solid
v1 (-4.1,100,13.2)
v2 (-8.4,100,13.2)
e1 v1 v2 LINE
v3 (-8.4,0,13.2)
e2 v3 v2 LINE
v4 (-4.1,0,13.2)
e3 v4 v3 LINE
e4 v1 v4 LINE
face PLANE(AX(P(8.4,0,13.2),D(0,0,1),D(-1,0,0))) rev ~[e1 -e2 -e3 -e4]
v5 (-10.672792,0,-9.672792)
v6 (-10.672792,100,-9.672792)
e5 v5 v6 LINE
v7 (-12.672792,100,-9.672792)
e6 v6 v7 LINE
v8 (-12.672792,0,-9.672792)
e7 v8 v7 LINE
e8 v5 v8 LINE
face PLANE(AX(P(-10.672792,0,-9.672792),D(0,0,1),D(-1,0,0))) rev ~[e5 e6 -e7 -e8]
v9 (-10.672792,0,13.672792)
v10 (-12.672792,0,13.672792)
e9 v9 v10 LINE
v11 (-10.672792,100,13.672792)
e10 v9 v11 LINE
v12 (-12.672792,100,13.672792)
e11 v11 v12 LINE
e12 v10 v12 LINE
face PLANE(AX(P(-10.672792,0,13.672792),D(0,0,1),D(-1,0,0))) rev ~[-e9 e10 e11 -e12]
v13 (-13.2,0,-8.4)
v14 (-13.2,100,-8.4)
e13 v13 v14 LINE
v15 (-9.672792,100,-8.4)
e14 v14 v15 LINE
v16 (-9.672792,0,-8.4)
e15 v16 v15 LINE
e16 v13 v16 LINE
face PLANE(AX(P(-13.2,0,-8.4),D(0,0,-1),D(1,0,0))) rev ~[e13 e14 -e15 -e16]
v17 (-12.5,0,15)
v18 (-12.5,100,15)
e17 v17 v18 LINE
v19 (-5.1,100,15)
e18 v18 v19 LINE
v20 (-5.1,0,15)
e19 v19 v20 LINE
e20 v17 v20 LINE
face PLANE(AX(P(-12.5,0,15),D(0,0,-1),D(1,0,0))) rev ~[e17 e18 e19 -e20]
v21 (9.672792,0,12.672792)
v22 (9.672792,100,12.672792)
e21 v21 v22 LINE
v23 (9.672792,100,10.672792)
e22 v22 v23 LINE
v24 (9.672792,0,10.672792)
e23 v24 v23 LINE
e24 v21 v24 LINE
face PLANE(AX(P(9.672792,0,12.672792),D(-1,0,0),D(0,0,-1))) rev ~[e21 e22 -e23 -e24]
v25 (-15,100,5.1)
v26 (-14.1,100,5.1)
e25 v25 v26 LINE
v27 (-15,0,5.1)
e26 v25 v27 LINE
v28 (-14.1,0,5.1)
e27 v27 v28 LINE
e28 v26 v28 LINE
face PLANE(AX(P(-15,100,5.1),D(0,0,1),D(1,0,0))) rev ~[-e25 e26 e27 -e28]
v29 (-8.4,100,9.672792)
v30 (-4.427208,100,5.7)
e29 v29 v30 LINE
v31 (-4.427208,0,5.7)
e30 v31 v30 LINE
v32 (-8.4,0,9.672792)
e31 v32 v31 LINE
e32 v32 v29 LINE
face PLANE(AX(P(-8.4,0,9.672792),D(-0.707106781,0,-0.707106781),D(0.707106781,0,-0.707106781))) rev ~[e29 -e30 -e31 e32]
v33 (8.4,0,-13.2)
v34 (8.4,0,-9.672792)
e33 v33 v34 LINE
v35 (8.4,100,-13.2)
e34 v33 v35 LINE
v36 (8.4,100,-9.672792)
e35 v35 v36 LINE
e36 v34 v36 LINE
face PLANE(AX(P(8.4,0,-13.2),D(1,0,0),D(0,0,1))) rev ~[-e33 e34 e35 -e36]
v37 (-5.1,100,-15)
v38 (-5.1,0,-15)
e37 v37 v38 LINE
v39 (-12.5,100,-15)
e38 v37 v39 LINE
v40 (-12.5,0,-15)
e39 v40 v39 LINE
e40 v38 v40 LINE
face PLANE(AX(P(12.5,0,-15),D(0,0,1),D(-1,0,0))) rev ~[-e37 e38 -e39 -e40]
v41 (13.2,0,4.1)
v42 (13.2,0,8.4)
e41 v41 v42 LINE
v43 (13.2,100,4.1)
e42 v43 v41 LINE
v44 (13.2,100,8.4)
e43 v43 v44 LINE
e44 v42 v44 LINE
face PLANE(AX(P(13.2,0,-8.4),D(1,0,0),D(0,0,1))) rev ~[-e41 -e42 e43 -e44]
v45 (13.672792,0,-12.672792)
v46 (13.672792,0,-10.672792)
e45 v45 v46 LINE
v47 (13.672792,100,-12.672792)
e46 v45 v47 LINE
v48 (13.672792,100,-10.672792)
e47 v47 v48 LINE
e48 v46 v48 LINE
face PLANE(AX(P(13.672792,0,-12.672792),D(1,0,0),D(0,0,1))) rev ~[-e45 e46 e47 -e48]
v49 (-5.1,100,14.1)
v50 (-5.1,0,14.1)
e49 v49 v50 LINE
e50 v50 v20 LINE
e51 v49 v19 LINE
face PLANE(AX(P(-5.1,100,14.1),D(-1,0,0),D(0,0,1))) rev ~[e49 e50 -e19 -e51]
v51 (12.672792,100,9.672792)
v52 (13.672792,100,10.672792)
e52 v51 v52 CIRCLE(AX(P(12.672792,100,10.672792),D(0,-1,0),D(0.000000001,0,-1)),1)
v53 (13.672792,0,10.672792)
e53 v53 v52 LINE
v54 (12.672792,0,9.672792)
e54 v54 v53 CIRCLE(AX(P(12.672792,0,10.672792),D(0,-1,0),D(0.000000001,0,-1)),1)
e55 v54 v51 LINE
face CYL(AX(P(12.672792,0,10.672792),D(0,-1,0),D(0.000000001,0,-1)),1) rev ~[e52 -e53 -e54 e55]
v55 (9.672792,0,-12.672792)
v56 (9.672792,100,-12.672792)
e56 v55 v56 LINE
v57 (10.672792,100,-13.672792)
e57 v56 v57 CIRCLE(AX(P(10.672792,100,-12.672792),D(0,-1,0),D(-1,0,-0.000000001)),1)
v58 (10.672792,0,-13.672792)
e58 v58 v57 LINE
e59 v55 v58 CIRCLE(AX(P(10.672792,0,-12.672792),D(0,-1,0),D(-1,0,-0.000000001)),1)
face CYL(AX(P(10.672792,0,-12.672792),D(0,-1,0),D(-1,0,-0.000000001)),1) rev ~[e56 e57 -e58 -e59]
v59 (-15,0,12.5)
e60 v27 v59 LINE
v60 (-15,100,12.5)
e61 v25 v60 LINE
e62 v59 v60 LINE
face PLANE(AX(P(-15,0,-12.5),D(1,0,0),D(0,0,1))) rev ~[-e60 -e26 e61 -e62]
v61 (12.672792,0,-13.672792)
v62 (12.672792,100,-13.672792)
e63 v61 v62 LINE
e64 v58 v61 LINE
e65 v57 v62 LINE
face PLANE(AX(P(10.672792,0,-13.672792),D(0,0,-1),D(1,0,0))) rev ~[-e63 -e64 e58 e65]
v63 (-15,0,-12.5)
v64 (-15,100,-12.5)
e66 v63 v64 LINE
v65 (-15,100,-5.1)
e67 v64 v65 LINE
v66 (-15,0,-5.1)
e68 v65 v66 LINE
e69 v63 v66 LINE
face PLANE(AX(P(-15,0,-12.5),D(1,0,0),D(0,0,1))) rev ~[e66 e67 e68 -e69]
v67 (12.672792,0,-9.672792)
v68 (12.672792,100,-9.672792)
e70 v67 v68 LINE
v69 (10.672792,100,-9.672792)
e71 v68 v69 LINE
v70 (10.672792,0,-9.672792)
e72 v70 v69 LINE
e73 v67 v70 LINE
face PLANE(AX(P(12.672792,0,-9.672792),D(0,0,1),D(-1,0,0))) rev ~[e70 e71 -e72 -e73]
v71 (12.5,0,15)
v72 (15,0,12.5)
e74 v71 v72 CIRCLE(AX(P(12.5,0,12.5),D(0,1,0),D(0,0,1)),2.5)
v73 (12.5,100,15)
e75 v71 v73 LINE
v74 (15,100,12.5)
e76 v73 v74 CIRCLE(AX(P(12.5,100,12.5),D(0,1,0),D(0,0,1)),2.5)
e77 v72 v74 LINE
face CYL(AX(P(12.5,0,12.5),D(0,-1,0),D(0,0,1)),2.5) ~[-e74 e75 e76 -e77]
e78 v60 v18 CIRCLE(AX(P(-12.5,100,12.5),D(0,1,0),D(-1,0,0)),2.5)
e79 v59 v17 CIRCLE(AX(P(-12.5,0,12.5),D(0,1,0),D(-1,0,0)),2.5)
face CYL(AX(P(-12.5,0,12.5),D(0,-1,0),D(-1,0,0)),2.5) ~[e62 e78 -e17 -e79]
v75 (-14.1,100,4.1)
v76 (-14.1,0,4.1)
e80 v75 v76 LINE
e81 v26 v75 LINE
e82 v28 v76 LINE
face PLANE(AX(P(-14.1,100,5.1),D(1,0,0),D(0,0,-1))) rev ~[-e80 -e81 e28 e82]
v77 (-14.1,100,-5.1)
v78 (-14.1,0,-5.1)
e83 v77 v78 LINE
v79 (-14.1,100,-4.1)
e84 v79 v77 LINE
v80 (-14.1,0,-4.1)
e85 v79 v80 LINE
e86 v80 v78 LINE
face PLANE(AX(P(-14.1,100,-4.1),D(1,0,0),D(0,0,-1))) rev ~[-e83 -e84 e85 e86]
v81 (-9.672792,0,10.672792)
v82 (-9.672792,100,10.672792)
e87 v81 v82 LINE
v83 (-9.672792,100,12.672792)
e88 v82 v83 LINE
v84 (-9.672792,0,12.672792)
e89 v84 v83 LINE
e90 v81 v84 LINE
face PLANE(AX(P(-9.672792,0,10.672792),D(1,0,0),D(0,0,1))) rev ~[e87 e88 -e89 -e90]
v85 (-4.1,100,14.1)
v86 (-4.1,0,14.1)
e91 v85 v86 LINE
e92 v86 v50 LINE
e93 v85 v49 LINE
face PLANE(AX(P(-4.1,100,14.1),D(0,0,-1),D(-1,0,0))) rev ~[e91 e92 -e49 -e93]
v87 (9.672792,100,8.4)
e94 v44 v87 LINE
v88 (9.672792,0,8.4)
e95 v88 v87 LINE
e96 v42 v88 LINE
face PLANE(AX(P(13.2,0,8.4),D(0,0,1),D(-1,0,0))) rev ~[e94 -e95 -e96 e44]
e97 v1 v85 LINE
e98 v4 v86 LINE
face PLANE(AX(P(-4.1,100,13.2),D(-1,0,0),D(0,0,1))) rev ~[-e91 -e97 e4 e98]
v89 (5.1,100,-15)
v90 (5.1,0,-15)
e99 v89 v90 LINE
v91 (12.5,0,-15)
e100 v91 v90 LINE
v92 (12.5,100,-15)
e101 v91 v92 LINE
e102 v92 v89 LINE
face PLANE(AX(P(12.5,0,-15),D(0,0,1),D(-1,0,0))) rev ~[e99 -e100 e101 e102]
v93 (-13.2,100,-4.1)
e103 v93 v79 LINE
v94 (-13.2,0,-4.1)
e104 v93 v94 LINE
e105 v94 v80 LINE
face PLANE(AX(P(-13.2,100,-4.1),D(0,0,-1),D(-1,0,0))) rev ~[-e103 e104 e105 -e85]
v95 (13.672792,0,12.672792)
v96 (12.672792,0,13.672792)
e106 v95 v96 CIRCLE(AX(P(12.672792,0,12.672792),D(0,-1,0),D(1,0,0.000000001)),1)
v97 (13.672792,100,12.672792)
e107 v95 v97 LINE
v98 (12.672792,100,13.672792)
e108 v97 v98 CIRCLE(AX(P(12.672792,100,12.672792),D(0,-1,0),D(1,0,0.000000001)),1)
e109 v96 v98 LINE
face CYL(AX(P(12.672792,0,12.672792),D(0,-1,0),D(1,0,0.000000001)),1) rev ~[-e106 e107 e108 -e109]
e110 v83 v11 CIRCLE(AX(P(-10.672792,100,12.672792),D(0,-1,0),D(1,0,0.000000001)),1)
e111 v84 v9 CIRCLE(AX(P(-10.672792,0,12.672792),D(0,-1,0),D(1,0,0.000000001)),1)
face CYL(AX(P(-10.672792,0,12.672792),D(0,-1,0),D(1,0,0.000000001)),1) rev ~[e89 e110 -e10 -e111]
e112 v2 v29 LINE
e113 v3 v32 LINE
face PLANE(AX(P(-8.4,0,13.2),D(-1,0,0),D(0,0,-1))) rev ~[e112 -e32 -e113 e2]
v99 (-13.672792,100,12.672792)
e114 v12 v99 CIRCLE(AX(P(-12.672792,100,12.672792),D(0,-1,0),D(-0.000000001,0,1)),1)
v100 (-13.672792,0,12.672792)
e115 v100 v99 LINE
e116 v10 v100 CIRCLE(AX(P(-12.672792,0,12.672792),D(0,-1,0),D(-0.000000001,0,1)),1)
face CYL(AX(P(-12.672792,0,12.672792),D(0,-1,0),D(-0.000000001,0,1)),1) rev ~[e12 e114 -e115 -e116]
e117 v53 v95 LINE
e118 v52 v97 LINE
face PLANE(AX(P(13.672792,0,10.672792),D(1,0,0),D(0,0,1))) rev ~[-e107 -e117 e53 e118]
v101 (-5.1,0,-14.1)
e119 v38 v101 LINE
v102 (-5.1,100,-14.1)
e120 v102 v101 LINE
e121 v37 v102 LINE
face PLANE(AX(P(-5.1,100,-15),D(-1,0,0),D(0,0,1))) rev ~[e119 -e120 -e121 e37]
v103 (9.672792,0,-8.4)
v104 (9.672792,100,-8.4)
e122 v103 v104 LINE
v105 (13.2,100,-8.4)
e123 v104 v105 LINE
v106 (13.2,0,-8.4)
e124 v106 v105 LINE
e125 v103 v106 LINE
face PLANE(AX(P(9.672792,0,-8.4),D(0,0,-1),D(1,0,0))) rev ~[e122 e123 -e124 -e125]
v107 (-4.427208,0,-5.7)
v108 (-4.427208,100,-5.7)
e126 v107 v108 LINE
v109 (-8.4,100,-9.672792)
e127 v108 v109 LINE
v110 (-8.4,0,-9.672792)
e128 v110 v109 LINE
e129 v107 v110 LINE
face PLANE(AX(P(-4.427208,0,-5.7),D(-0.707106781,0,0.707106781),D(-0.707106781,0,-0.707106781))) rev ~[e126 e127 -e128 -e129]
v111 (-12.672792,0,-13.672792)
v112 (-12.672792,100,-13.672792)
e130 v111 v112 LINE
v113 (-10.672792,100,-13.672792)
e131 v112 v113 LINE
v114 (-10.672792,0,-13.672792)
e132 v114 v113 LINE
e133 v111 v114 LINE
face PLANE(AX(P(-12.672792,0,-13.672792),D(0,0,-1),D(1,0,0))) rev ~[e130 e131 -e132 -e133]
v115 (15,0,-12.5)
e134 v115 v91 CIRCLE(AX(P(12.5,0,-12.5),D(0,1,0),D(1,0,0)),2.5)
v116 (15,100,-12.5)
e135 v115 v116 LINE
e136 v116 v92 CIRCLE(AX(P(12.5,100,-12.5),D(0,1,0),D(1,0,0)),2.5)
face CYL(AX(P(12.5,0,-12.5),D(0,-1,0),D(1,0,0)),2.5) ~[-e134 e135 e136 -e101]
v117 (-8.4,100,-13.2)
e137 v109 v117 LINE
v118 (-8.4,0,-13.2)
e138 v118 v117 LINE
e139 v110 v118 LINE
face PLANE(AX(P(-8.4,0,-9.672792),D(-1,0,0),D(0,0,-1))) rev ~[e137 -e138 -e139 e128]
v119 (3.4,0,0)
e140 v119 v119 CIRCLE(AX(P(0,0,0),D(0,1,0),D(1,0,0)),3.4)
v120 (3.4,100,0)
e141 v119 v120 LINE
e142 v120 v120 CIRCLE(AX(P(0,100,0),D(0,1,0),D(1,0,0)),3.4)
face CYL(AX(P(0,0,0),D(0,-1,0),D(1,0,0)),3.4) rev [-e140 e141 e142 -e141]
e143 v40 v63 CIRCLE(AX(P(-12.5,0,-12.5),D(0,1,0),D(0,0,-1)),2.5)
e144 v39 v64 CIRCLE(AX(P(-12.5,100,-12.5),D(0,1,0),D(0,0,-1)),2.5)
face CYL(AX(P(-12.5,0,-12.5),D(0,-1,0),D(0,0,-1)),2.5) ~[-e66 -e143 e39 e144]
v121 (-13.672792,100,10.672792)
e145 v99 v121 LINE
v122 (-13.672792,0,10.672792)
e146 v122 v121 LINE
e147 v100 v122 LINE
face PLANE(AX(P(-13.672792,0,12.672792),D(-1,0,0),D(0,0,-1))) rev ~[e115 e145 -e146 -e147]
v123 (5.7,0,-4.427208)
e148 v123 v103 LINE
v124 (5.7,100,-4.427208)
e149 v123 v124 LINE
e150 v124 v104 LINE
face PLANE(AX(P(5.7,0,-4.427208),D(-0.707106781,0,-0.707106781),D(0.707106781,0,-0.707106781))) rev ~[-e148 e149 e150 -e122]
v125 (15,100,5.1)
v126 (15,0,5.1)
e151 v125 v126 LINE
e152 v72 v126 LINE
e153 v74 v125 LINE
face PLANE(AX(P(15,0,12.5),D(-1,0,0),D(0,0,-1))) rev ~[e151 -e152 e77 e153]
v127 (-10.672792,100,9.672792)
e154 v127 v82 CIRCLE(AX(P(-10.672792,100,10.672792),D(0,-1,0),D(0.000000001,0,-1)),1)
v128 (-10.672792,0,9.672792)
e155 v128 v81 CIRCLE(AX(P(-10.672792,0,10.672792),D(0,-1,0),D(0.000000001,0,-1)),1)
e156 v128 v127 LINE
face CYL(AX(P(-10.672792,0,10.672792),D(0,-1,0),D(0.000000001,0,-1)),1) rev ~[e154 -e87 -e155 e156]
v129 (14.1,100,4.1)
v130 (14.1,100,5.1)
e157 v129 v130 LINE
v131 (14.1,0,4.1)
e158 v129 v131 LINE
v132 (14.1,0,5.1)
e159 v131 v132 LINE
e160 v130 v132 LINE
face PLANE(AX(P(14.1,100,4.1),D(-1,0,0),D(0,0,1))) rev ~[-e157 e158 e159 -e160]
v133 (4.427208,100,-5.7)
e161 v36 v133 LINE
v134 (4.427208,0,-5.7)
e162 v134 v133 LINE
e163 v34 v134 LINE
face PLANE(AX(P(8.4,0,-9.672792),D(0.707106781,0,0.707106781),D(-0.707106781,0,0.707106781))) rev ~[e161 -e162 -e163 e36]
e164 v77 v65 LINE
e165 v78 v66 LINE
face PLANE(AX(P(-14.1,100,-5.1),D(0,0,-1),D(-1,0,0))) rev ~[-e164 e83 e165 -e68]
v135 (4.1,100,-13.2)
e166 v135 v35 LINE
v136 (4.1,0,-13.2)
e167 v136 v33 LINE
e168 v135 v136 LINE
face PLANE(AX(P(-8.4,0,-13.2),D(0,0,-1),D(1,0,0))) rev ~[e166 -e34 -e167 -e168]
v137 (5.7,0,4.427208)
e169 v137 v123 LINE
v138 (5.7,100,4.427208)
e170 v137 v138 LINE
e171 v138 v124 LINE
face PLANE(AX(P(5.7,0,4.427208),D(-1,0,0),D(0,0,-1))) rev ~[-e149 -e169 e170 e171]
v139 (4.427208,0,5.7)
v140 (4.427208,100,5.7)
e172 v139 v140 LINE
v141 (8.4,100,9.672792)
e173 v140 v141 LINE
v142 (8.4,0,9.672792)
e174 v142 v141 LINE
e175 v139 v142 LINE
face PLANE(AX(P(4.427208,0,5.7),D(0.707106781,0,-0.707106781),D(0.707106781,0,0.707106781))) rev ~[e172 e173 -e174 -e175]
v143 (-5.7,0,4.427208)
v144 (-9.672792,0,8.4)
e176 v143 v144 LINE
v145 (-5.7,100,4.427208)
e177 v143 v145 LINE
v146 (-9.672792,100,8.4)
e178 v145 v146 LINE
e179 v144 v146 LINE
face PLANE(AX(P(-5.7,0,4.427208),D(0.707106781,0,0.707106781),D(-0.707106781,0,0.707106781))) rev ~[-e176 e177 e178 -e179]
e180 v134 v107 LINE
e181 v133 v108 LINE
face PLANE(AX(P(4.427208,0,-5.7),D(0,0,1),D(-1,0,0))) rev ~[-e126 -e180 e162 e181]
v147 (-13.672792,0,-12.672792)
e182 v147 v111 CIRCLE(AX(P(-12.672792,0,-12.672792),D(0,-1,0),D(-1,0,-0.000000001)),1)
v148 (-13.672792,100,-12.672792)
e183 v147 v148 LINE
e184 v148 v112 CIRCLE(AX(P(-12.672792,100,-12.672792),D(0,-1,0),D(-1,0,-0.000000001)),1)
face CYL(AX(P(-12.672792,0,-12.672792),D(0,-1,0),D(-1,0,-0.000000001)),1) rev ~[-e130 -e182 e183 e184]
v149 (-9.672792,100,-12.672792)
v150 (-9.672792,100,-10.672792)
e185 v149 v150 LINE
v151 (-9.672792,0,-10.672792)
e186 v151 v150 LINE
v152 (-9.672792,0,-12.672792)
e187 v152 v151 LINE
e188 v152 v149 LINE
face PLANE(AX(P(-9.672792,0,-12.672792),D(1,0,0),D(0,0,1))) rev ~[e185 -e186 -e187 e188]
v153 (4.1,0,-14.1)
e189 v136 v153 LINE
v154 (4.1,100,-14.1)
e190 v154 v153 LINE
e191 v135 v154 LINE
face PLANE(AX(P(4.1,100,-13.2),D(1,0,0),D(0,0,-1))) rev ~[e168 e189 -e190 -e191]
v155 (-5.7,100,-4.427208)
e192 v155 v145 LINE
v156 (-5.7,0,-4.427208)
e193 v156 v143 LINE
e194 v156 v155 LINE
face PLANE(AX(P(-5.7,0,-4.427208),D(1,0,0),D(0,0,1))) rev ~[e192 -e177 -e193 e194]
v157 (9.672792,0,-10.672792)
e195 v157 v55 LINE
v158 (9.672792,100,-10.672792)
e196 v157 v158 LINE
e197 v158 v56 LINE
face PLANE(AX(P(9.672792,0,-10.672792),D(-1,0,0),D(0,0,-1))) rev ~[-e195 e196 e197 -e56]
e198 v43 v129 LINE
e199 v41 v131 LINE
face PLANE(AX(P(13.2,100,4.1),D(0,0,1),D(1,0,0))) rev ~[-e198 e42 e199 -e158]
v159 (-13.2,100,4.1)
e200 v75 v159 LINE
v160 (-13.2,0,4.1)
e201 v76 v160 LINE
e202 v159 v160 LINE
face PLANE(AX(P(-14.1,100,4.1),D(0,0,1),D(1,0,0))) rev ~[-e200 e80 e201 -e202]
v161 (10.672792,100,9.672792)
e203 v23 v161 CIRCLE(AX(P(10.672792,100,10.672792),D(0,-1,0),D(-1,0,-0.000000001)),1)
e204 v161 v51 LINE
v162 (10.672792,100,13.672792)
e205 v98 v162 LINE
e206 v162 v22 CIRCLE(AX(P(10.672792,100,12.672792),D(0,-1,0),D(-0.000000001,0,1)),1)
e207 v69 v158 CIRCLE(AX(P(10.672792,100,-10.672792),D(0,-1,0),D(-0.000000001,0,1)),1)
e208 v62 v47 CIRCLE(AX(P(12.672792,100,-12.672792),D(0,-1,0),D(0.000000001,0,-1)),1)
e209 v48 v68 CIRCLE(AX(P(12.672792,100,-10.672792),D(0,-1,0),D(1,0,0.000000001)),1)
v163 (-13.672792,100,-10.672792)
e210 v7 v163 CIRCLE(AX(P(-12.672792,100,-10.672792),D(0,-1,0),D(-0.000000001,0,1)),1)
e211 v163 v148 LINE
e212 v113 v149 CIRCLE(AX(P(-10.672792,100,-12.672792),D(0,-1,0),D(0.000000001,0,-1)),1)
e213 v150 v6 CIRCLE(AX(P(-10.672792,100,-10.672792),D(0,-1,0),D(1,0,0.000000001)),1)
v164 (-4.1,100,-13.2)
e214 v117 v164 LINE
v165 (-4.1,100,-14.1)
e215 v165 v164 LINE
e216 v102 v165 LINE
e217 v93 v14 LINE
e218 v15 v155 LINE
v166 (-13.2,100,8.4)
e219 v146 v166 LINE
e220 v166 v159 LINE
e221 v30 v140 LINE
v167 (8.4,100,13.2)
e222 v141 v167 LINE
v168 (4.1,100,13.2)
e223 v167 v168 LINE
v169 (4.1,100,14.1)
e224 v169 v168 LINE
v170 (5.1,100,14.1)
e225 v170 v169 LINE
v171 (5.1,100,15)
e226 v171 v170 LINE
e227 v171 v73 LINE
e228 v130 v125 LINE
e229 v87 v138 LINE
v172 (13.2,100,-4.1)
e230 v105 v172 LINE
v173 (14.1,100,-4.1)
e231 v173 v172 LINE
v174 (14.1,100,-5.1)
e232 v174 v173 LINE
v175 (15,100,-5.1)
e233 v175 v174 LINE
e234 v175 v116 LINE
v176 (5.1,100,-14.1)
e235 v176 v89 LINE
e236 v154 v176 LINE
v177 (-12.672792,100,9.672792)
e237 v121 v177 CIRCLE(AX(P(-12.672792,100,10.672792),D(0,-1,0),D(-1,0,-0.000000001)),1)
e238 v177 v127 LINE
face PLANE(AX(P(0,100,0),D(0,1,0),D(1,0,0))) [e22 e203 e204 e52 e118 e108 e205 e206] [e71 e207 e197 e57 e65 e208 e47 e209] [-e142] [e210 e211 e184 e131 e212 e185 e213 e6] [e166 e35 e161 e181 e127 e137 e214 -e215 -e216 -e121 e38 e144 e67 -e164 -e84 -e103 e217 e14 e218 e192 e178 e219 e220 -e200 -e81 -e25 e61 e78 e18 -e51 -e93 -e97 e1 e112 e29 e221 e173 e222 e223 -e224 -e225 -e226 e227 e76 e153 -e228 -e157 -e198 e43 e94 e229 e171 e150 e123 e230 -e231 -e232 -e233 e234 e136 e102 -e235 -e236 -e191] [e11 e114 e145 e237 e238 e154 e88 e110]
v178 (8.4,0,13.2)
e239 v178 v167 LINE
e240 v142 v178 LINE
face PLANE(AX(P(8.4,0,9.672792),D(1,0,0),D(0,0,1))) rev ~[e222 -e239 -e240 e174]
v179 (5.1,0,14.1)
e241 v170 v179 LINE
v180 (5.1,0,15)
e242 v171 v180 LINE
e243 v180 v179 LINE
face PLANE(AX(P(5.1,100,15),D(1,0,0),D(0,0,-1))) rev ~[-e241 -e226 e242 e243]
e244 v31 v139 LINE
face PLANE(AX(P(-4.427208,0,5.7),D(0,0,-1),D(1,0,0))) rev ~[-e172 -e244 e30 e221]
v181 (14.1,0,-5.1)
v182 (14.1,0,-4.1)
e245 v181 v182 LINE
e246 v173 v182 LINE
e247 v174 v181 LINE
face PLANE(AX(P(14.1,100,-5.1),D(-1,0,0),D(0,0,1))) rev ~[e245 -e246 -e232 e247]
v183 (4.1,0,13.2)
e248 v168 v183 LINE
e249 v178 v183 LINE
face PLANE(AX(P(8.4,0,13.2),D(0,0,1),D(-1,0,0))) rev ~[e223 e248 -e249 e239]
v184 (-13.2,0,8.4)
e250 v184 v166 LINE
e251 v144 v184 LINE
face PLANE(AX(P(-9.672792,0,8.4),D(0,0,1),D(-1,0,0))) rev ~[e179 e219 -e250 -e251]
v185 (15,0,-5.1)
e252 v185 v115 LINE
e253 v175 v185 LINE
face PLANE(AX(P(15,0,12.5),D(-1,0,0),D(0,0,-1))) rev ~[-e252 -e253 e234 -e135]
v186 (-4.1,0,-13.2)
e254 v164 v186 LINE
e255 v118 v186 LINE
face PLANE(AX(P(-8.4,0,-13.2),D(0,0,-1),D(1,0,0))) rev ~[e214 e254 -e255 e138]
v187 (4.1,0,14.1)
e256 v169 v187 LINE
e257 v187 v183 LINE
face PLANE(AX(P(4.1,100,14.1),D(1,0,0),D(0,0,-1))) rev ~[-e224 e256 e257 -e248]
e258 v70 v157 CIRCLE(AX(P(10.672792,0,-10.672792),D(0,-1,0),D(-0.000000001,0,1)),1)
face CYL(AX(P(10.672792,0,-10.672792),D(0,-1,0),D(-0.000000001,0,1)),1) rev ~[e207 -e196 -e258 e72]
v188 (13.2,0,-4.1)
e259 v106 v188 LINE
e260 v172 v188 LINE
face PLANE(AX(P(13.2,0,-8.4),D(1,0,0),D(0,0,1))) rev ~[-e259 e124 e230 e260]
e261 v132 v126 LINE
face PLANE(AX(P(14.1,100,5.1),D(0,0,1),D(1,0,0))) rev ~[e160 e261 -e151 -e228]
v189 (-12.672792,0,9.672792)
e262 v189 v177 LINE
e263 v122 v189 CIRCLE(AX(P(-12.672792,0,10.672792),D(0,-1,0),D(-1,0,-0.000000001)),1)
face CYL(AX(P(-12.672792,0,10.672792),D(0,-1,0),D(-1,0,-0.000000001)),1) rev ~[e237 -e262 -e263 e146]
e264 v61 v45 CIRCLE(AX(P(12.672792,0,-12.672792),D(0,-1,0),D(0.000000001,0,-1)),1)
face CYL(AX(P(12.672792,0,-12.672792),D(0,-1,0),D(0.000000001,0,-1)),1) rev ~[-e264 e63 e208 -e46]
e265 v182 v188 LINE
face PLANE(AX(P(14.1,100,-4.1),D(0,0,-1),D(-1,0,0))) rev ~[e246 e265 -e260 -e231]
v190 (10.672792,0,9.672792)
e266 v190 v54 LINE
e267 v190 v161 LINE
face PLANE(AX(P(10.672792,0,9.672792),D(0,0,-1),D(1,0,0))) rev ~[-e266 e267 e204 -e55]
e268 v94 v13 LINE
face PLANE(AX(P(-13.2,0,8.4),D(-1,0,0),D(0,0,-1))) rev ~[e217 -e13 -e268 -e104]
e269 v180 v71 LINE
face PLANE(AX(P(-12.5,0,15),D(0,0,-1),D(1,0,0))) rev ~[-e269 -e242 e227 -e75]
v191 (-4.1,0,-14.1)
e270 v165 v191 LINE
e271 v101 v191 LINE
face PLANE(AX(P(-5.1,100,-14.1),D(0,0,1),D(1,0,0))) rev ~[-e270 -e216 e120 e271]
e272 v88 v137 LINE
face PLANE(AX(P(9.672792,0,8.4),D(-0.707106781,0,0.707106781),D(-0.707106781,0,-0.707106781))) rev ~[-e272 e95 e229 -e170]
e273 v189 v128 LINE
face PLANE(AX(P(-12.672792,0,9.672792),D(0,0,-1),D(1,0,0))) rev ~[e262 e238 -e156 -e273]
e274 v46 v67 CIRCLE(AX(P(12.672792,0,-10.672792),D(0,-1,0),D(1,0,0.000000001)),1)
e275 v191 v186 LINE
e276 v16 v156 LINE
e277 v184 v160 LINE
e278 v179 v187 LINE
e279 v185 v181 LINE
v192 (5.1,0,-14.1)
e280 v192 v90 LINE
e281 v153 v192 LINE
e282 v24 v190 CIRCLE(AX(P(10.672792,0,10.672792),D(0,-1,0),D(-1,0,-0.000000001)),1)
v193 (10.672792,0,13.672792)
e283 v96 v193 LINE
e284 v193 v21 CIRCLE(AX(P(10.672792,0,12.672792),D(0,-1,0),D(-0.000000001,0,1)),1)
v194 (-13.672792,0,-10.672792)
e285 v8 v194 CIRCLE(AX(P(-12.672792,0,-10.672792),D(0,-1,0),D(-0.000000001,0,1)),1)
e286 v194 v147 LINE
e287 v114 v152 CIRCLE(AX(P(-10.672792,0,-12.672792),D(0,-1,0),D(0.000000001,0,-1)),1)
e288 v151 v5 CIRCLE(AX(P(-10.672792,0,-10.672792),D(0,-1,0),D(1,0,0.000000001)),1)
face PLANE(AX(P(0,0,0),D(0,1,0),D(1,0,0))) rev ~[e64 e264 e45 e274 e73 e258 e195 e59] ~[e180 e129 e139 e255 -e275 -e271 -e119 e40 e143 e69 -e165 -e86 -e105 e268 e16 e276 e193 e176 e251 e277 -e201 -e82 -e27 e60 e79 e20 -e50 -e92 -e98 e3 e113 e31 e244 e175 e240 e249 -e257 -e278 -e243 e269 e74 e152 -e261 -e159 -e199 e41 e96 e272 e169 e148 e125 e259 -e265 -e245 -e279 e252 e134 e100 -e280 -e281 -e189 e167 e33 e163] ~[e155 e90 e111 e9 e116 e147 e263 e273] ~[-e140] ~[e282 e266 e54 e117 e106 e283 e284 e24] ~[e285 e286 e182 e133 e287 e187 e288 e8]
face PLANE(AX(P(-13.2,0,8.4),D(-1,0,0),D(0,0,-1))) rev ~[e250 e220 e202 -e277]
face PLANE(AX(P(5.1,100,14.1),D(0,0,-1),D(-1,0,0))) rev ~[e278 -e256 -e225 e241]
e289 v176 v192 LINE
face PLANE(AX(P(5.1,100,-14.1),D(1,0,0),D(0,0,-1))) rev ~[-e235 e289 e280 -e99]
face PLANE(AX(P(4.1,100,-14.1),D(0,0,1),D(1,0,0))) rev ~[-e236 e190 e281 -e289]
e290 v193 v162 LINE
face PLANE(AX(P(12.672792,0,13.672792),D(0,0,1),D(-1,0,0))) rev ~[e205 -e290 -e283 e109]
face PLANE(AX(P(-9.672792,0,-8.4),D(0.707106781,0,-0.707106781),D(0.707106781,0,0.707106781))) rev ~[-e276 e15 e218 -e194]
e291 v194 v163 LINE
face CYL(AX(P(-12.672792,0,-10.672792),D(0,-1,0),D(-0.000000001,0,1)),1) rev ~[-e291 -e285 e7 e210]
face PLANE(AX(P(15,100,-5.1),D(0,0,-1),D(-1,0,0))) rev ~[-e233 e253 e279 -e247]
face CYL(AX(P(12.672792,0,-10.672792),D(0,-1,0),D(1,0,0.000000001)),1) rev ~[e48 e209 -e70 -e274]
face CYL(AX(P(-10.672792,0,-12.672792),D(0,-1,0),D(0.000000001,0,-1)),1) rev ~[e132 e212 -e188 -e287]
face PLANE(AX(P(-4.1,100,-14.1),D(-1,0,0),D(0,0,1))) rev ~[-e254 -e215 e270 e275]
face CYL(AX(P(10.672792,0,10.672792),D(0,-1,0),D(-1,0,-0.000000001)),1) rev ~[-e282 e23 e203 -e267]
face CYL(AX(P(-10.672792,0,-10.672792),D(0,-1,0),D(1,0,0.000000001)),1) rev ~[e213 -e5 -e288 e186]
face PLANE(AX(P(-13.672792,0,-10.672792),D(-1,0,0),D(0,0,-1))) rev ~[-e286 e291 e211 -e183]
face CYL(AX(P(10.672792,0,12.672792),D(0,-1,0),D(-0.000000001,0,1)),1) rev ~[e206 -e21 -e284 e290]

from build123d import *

# Parameters (mm, degrees)
SKETCH1_R           = 3.4
BOSS_EXTRUDE1_DEPTH = 100
CUT_EXTRUDE1_DEPTH  = 103.225241501
CIRPATTERN1_COUNT   = 4


with BuildPart() as part:
    # Sketch1 → Boss-Extrude1 (new body)
    with BuildSketch(Plane(origin=(0, 0, 0), x_dir=(1, 0, 0), z_dir=(0, 1, 0))):
        with BuildLine():
            ThreePointArc((-15, -12.5), (-14.267766953, -14.267766953), (-12.5, -15))
            Line((-12.5, -15), (12.5, -15))
            ThreePointArc((12.5, -15), (14.267766953, -14.267766953), (15, -12.5))
            Line((15, -12.5), (15, 12.5))
            ThreePointArc((15, 12.5), (14.267766953, 14.267766953), (12.5, 15))
            Line((12.5, 15), (-12.5, 15))
            ThreePointArc((-12.5, 15), (-14.267766953, 14.267766953), (-15, 12.5))
            Line((-15, 12.5), (-15, -12.5))
        make_face()
        with BuildLine():
            Line((-12.672792206, -9.672792206), (-10.672792206, -9.672792206))
            ThreePointArc((-10.672792206, -9.672792206), (-9.965685425, -9.965685425), (-9.672792206, -10.672792206))
            Line((-9.672792206, -10.672792206), (-9.672792206, -12.672792206))
            ThreePointArc((-9.672792206, -12.672792206), (-9.965685425, -13.379898987), (-10.672792206, -13.672792206))
            Line((-10.672792206, -13.672792206), (-12.672792206, -13.672792206))
            ThreePointArc((-12.672792206, -13.672792206), (-13.379898987, -13.379898987), (-13.672792206, -12.672792206))
            Line((-13.672792206, -12.672792206), (-13.672792206, -10.672792206))
            ThreePointArc((-13.672792206, -10.672792206), (-13.379898987, -9.965685425), (-12.672792206, -9.672792206))
        make_face(mode=Mode.SUBTRACT)
        Polygon((-8.4, -9.672792206), (-4.427207794, -5.7), (4.427207794, -5.7), (8.4, -9.672792206), (8.4, -13.2), (-8.4, -13.2), align=None, mode=Mode.SUBTRACT)
        with BuildLine():
            Line((9.672792206, -12.672792206), (9.672792206, -10.672792206))
            ThreePointArc((9.672792206, -10.672792206), (9.965685425, -9.965685425), (10.672792206, -9.672792206))
            Line((10.672792206, -9.672792206), (12.672792206, -9.672792206))
            ThreePointArc((12.672792206, -9.672792206), (13.379898987, -9.965685425), (13.672792206, -10.672792206))
            Line((13.672792206, -10.672792206), (13.672792206, -12.672792206))
            ThreePointArc((13.672792206, -12.672792206), (13.379898987, -13.379898987), (12.672792206, -13.672792206))
            Line((12.672792206, -13.672792206), (10.672792206, -13.672792206))
            ThreePointArc((10.672792206, -13.672792206), (9.965685425, -13.379898987), (9.672792206, -12.672792206))
        make_face(mode=Mode.SUBTRACT)
        Polygon((-5.7, 4.427207794), (-5.7, -4.427207794), (-9.672792206, -8.4), (-13.2, -8.4), (-13.2, 8.4), (-9.672792206, 8.4), align=None, mode=Mode.SUBTRACT)
        with BuildLine():
            Line((-10.672792206, 9.672792206), (-12.672792206, 9.672792206))
            ThreePointArc((-12.672792206, 9.672792206), (-13.379898987, 9.965685425), (-13.672792206, 10.672792206))
            Line((-13.672792206, 10.672792206), (-13.672792206, 12.672792206))
            ThreePointArc((-13.672792206, 12.672792206), (-13.379898987, 13.379898987), (-12.672792206, 13.672792206))
            Line((-12.672792206, 13.672792206), (-10.672792206, 13.672792206))
            ThreePointArc((-10.672792206, 13.672792206), (-9.965685425, 13.379898987), (-9.672792206, 12.672792206))
            Line((-9.672792206, 12.672792206), (-9.672792206, 10.672792206))
            ThreePointArc((-9.672792206, 10.672792206), (-9.965685425, 9.965685425), (-10.672792206, 9.672792206))
        make_face(mode=Mode.SUBTRACT)
        Circle(SKETCH1_R, mode=Mode.SUBTRACT)
        Polygon((9.672792206, 8.4), (13.2, 8.4), (13.2, -8.4), (9.672792206, -8.4), (5.7, -4.427207794), (5.7, 4.427207794), align=None, mode=Mode.SUBTRACT)
        Polygon((4.427207794, 5.7), (-4.427207794, 5.7), (-8.4, 9.672792206), (-8.4, 13.2), (8.4, 13.2), (8.4, 9.672792206), align=None, mode=Mode.SUBTRACT)
        with BuildLine():
            Line((12.672792206, 9.672792206), (10.672792206, 9.672792206))
            ThreePointArc((10.672792206, 9.672792206), (9.965685425, 9.965685425), (9.672792206, 10.672792206))
            Line((9.672792206, 10.672792206), (9.672792206, 12.672792206))
            ThreePointArc((9.672792206, 12.672792206), (9.965685425, 13.379898987), (10.672792206, 13.672792206))
            Line((10.672792206, 13.672792206), (12.672792206, 13.672792206))
            ThreePointArc((12.672792206, 13.672792206), (13.379898987, 13.379898987), (13.672792206, 12.672792206))
            Line((13.672792206, 12.672792206), (13.672792206, 10.672792206))
            ThreePointArc((13.672792206, 10.672792206), (13.379898987, 9.965685425), (12.672792206, 9.672792206))
        make_face(mode=Mode.SUBTRACT)
    extrude(amount=BOSS_EXTRUDE1_DEPTH)

    # Sketch2 → Cut-Extrude1 (cut, through all)
    with BuildSketch(Plane(origin=(0, 100, 0), x_dir=(1, 0, 0), z_dir=(0, 1, 0))):
        Polygon((-4.1, 14.1), (-4.1, 13.2), (4.1, 13.2), (4.1, 14.1), (5.1, 14.1), (5.1, 15), (-5.1, 15), (-5.1, 14.1), align=None)
    cut_extrude1 = extrude(amount=-CUT_EXTRUDE1_DEPTH, mode=Mode.SUBTRACT)

    # CirPattern1: Cut-Extrude1 ×4 about axis
    cirpattern1_axis = Axis((0, 105, 0), (0, -1, 0))
    for i in range(1, CIRPATTERN1_COUNT):
        add(cut_extrude1.rotate(cirpattern1_axis, i * 360 / CIRPATTERN1_COUNT), mode=Mode.SUBTRACT)


solid = part.part
